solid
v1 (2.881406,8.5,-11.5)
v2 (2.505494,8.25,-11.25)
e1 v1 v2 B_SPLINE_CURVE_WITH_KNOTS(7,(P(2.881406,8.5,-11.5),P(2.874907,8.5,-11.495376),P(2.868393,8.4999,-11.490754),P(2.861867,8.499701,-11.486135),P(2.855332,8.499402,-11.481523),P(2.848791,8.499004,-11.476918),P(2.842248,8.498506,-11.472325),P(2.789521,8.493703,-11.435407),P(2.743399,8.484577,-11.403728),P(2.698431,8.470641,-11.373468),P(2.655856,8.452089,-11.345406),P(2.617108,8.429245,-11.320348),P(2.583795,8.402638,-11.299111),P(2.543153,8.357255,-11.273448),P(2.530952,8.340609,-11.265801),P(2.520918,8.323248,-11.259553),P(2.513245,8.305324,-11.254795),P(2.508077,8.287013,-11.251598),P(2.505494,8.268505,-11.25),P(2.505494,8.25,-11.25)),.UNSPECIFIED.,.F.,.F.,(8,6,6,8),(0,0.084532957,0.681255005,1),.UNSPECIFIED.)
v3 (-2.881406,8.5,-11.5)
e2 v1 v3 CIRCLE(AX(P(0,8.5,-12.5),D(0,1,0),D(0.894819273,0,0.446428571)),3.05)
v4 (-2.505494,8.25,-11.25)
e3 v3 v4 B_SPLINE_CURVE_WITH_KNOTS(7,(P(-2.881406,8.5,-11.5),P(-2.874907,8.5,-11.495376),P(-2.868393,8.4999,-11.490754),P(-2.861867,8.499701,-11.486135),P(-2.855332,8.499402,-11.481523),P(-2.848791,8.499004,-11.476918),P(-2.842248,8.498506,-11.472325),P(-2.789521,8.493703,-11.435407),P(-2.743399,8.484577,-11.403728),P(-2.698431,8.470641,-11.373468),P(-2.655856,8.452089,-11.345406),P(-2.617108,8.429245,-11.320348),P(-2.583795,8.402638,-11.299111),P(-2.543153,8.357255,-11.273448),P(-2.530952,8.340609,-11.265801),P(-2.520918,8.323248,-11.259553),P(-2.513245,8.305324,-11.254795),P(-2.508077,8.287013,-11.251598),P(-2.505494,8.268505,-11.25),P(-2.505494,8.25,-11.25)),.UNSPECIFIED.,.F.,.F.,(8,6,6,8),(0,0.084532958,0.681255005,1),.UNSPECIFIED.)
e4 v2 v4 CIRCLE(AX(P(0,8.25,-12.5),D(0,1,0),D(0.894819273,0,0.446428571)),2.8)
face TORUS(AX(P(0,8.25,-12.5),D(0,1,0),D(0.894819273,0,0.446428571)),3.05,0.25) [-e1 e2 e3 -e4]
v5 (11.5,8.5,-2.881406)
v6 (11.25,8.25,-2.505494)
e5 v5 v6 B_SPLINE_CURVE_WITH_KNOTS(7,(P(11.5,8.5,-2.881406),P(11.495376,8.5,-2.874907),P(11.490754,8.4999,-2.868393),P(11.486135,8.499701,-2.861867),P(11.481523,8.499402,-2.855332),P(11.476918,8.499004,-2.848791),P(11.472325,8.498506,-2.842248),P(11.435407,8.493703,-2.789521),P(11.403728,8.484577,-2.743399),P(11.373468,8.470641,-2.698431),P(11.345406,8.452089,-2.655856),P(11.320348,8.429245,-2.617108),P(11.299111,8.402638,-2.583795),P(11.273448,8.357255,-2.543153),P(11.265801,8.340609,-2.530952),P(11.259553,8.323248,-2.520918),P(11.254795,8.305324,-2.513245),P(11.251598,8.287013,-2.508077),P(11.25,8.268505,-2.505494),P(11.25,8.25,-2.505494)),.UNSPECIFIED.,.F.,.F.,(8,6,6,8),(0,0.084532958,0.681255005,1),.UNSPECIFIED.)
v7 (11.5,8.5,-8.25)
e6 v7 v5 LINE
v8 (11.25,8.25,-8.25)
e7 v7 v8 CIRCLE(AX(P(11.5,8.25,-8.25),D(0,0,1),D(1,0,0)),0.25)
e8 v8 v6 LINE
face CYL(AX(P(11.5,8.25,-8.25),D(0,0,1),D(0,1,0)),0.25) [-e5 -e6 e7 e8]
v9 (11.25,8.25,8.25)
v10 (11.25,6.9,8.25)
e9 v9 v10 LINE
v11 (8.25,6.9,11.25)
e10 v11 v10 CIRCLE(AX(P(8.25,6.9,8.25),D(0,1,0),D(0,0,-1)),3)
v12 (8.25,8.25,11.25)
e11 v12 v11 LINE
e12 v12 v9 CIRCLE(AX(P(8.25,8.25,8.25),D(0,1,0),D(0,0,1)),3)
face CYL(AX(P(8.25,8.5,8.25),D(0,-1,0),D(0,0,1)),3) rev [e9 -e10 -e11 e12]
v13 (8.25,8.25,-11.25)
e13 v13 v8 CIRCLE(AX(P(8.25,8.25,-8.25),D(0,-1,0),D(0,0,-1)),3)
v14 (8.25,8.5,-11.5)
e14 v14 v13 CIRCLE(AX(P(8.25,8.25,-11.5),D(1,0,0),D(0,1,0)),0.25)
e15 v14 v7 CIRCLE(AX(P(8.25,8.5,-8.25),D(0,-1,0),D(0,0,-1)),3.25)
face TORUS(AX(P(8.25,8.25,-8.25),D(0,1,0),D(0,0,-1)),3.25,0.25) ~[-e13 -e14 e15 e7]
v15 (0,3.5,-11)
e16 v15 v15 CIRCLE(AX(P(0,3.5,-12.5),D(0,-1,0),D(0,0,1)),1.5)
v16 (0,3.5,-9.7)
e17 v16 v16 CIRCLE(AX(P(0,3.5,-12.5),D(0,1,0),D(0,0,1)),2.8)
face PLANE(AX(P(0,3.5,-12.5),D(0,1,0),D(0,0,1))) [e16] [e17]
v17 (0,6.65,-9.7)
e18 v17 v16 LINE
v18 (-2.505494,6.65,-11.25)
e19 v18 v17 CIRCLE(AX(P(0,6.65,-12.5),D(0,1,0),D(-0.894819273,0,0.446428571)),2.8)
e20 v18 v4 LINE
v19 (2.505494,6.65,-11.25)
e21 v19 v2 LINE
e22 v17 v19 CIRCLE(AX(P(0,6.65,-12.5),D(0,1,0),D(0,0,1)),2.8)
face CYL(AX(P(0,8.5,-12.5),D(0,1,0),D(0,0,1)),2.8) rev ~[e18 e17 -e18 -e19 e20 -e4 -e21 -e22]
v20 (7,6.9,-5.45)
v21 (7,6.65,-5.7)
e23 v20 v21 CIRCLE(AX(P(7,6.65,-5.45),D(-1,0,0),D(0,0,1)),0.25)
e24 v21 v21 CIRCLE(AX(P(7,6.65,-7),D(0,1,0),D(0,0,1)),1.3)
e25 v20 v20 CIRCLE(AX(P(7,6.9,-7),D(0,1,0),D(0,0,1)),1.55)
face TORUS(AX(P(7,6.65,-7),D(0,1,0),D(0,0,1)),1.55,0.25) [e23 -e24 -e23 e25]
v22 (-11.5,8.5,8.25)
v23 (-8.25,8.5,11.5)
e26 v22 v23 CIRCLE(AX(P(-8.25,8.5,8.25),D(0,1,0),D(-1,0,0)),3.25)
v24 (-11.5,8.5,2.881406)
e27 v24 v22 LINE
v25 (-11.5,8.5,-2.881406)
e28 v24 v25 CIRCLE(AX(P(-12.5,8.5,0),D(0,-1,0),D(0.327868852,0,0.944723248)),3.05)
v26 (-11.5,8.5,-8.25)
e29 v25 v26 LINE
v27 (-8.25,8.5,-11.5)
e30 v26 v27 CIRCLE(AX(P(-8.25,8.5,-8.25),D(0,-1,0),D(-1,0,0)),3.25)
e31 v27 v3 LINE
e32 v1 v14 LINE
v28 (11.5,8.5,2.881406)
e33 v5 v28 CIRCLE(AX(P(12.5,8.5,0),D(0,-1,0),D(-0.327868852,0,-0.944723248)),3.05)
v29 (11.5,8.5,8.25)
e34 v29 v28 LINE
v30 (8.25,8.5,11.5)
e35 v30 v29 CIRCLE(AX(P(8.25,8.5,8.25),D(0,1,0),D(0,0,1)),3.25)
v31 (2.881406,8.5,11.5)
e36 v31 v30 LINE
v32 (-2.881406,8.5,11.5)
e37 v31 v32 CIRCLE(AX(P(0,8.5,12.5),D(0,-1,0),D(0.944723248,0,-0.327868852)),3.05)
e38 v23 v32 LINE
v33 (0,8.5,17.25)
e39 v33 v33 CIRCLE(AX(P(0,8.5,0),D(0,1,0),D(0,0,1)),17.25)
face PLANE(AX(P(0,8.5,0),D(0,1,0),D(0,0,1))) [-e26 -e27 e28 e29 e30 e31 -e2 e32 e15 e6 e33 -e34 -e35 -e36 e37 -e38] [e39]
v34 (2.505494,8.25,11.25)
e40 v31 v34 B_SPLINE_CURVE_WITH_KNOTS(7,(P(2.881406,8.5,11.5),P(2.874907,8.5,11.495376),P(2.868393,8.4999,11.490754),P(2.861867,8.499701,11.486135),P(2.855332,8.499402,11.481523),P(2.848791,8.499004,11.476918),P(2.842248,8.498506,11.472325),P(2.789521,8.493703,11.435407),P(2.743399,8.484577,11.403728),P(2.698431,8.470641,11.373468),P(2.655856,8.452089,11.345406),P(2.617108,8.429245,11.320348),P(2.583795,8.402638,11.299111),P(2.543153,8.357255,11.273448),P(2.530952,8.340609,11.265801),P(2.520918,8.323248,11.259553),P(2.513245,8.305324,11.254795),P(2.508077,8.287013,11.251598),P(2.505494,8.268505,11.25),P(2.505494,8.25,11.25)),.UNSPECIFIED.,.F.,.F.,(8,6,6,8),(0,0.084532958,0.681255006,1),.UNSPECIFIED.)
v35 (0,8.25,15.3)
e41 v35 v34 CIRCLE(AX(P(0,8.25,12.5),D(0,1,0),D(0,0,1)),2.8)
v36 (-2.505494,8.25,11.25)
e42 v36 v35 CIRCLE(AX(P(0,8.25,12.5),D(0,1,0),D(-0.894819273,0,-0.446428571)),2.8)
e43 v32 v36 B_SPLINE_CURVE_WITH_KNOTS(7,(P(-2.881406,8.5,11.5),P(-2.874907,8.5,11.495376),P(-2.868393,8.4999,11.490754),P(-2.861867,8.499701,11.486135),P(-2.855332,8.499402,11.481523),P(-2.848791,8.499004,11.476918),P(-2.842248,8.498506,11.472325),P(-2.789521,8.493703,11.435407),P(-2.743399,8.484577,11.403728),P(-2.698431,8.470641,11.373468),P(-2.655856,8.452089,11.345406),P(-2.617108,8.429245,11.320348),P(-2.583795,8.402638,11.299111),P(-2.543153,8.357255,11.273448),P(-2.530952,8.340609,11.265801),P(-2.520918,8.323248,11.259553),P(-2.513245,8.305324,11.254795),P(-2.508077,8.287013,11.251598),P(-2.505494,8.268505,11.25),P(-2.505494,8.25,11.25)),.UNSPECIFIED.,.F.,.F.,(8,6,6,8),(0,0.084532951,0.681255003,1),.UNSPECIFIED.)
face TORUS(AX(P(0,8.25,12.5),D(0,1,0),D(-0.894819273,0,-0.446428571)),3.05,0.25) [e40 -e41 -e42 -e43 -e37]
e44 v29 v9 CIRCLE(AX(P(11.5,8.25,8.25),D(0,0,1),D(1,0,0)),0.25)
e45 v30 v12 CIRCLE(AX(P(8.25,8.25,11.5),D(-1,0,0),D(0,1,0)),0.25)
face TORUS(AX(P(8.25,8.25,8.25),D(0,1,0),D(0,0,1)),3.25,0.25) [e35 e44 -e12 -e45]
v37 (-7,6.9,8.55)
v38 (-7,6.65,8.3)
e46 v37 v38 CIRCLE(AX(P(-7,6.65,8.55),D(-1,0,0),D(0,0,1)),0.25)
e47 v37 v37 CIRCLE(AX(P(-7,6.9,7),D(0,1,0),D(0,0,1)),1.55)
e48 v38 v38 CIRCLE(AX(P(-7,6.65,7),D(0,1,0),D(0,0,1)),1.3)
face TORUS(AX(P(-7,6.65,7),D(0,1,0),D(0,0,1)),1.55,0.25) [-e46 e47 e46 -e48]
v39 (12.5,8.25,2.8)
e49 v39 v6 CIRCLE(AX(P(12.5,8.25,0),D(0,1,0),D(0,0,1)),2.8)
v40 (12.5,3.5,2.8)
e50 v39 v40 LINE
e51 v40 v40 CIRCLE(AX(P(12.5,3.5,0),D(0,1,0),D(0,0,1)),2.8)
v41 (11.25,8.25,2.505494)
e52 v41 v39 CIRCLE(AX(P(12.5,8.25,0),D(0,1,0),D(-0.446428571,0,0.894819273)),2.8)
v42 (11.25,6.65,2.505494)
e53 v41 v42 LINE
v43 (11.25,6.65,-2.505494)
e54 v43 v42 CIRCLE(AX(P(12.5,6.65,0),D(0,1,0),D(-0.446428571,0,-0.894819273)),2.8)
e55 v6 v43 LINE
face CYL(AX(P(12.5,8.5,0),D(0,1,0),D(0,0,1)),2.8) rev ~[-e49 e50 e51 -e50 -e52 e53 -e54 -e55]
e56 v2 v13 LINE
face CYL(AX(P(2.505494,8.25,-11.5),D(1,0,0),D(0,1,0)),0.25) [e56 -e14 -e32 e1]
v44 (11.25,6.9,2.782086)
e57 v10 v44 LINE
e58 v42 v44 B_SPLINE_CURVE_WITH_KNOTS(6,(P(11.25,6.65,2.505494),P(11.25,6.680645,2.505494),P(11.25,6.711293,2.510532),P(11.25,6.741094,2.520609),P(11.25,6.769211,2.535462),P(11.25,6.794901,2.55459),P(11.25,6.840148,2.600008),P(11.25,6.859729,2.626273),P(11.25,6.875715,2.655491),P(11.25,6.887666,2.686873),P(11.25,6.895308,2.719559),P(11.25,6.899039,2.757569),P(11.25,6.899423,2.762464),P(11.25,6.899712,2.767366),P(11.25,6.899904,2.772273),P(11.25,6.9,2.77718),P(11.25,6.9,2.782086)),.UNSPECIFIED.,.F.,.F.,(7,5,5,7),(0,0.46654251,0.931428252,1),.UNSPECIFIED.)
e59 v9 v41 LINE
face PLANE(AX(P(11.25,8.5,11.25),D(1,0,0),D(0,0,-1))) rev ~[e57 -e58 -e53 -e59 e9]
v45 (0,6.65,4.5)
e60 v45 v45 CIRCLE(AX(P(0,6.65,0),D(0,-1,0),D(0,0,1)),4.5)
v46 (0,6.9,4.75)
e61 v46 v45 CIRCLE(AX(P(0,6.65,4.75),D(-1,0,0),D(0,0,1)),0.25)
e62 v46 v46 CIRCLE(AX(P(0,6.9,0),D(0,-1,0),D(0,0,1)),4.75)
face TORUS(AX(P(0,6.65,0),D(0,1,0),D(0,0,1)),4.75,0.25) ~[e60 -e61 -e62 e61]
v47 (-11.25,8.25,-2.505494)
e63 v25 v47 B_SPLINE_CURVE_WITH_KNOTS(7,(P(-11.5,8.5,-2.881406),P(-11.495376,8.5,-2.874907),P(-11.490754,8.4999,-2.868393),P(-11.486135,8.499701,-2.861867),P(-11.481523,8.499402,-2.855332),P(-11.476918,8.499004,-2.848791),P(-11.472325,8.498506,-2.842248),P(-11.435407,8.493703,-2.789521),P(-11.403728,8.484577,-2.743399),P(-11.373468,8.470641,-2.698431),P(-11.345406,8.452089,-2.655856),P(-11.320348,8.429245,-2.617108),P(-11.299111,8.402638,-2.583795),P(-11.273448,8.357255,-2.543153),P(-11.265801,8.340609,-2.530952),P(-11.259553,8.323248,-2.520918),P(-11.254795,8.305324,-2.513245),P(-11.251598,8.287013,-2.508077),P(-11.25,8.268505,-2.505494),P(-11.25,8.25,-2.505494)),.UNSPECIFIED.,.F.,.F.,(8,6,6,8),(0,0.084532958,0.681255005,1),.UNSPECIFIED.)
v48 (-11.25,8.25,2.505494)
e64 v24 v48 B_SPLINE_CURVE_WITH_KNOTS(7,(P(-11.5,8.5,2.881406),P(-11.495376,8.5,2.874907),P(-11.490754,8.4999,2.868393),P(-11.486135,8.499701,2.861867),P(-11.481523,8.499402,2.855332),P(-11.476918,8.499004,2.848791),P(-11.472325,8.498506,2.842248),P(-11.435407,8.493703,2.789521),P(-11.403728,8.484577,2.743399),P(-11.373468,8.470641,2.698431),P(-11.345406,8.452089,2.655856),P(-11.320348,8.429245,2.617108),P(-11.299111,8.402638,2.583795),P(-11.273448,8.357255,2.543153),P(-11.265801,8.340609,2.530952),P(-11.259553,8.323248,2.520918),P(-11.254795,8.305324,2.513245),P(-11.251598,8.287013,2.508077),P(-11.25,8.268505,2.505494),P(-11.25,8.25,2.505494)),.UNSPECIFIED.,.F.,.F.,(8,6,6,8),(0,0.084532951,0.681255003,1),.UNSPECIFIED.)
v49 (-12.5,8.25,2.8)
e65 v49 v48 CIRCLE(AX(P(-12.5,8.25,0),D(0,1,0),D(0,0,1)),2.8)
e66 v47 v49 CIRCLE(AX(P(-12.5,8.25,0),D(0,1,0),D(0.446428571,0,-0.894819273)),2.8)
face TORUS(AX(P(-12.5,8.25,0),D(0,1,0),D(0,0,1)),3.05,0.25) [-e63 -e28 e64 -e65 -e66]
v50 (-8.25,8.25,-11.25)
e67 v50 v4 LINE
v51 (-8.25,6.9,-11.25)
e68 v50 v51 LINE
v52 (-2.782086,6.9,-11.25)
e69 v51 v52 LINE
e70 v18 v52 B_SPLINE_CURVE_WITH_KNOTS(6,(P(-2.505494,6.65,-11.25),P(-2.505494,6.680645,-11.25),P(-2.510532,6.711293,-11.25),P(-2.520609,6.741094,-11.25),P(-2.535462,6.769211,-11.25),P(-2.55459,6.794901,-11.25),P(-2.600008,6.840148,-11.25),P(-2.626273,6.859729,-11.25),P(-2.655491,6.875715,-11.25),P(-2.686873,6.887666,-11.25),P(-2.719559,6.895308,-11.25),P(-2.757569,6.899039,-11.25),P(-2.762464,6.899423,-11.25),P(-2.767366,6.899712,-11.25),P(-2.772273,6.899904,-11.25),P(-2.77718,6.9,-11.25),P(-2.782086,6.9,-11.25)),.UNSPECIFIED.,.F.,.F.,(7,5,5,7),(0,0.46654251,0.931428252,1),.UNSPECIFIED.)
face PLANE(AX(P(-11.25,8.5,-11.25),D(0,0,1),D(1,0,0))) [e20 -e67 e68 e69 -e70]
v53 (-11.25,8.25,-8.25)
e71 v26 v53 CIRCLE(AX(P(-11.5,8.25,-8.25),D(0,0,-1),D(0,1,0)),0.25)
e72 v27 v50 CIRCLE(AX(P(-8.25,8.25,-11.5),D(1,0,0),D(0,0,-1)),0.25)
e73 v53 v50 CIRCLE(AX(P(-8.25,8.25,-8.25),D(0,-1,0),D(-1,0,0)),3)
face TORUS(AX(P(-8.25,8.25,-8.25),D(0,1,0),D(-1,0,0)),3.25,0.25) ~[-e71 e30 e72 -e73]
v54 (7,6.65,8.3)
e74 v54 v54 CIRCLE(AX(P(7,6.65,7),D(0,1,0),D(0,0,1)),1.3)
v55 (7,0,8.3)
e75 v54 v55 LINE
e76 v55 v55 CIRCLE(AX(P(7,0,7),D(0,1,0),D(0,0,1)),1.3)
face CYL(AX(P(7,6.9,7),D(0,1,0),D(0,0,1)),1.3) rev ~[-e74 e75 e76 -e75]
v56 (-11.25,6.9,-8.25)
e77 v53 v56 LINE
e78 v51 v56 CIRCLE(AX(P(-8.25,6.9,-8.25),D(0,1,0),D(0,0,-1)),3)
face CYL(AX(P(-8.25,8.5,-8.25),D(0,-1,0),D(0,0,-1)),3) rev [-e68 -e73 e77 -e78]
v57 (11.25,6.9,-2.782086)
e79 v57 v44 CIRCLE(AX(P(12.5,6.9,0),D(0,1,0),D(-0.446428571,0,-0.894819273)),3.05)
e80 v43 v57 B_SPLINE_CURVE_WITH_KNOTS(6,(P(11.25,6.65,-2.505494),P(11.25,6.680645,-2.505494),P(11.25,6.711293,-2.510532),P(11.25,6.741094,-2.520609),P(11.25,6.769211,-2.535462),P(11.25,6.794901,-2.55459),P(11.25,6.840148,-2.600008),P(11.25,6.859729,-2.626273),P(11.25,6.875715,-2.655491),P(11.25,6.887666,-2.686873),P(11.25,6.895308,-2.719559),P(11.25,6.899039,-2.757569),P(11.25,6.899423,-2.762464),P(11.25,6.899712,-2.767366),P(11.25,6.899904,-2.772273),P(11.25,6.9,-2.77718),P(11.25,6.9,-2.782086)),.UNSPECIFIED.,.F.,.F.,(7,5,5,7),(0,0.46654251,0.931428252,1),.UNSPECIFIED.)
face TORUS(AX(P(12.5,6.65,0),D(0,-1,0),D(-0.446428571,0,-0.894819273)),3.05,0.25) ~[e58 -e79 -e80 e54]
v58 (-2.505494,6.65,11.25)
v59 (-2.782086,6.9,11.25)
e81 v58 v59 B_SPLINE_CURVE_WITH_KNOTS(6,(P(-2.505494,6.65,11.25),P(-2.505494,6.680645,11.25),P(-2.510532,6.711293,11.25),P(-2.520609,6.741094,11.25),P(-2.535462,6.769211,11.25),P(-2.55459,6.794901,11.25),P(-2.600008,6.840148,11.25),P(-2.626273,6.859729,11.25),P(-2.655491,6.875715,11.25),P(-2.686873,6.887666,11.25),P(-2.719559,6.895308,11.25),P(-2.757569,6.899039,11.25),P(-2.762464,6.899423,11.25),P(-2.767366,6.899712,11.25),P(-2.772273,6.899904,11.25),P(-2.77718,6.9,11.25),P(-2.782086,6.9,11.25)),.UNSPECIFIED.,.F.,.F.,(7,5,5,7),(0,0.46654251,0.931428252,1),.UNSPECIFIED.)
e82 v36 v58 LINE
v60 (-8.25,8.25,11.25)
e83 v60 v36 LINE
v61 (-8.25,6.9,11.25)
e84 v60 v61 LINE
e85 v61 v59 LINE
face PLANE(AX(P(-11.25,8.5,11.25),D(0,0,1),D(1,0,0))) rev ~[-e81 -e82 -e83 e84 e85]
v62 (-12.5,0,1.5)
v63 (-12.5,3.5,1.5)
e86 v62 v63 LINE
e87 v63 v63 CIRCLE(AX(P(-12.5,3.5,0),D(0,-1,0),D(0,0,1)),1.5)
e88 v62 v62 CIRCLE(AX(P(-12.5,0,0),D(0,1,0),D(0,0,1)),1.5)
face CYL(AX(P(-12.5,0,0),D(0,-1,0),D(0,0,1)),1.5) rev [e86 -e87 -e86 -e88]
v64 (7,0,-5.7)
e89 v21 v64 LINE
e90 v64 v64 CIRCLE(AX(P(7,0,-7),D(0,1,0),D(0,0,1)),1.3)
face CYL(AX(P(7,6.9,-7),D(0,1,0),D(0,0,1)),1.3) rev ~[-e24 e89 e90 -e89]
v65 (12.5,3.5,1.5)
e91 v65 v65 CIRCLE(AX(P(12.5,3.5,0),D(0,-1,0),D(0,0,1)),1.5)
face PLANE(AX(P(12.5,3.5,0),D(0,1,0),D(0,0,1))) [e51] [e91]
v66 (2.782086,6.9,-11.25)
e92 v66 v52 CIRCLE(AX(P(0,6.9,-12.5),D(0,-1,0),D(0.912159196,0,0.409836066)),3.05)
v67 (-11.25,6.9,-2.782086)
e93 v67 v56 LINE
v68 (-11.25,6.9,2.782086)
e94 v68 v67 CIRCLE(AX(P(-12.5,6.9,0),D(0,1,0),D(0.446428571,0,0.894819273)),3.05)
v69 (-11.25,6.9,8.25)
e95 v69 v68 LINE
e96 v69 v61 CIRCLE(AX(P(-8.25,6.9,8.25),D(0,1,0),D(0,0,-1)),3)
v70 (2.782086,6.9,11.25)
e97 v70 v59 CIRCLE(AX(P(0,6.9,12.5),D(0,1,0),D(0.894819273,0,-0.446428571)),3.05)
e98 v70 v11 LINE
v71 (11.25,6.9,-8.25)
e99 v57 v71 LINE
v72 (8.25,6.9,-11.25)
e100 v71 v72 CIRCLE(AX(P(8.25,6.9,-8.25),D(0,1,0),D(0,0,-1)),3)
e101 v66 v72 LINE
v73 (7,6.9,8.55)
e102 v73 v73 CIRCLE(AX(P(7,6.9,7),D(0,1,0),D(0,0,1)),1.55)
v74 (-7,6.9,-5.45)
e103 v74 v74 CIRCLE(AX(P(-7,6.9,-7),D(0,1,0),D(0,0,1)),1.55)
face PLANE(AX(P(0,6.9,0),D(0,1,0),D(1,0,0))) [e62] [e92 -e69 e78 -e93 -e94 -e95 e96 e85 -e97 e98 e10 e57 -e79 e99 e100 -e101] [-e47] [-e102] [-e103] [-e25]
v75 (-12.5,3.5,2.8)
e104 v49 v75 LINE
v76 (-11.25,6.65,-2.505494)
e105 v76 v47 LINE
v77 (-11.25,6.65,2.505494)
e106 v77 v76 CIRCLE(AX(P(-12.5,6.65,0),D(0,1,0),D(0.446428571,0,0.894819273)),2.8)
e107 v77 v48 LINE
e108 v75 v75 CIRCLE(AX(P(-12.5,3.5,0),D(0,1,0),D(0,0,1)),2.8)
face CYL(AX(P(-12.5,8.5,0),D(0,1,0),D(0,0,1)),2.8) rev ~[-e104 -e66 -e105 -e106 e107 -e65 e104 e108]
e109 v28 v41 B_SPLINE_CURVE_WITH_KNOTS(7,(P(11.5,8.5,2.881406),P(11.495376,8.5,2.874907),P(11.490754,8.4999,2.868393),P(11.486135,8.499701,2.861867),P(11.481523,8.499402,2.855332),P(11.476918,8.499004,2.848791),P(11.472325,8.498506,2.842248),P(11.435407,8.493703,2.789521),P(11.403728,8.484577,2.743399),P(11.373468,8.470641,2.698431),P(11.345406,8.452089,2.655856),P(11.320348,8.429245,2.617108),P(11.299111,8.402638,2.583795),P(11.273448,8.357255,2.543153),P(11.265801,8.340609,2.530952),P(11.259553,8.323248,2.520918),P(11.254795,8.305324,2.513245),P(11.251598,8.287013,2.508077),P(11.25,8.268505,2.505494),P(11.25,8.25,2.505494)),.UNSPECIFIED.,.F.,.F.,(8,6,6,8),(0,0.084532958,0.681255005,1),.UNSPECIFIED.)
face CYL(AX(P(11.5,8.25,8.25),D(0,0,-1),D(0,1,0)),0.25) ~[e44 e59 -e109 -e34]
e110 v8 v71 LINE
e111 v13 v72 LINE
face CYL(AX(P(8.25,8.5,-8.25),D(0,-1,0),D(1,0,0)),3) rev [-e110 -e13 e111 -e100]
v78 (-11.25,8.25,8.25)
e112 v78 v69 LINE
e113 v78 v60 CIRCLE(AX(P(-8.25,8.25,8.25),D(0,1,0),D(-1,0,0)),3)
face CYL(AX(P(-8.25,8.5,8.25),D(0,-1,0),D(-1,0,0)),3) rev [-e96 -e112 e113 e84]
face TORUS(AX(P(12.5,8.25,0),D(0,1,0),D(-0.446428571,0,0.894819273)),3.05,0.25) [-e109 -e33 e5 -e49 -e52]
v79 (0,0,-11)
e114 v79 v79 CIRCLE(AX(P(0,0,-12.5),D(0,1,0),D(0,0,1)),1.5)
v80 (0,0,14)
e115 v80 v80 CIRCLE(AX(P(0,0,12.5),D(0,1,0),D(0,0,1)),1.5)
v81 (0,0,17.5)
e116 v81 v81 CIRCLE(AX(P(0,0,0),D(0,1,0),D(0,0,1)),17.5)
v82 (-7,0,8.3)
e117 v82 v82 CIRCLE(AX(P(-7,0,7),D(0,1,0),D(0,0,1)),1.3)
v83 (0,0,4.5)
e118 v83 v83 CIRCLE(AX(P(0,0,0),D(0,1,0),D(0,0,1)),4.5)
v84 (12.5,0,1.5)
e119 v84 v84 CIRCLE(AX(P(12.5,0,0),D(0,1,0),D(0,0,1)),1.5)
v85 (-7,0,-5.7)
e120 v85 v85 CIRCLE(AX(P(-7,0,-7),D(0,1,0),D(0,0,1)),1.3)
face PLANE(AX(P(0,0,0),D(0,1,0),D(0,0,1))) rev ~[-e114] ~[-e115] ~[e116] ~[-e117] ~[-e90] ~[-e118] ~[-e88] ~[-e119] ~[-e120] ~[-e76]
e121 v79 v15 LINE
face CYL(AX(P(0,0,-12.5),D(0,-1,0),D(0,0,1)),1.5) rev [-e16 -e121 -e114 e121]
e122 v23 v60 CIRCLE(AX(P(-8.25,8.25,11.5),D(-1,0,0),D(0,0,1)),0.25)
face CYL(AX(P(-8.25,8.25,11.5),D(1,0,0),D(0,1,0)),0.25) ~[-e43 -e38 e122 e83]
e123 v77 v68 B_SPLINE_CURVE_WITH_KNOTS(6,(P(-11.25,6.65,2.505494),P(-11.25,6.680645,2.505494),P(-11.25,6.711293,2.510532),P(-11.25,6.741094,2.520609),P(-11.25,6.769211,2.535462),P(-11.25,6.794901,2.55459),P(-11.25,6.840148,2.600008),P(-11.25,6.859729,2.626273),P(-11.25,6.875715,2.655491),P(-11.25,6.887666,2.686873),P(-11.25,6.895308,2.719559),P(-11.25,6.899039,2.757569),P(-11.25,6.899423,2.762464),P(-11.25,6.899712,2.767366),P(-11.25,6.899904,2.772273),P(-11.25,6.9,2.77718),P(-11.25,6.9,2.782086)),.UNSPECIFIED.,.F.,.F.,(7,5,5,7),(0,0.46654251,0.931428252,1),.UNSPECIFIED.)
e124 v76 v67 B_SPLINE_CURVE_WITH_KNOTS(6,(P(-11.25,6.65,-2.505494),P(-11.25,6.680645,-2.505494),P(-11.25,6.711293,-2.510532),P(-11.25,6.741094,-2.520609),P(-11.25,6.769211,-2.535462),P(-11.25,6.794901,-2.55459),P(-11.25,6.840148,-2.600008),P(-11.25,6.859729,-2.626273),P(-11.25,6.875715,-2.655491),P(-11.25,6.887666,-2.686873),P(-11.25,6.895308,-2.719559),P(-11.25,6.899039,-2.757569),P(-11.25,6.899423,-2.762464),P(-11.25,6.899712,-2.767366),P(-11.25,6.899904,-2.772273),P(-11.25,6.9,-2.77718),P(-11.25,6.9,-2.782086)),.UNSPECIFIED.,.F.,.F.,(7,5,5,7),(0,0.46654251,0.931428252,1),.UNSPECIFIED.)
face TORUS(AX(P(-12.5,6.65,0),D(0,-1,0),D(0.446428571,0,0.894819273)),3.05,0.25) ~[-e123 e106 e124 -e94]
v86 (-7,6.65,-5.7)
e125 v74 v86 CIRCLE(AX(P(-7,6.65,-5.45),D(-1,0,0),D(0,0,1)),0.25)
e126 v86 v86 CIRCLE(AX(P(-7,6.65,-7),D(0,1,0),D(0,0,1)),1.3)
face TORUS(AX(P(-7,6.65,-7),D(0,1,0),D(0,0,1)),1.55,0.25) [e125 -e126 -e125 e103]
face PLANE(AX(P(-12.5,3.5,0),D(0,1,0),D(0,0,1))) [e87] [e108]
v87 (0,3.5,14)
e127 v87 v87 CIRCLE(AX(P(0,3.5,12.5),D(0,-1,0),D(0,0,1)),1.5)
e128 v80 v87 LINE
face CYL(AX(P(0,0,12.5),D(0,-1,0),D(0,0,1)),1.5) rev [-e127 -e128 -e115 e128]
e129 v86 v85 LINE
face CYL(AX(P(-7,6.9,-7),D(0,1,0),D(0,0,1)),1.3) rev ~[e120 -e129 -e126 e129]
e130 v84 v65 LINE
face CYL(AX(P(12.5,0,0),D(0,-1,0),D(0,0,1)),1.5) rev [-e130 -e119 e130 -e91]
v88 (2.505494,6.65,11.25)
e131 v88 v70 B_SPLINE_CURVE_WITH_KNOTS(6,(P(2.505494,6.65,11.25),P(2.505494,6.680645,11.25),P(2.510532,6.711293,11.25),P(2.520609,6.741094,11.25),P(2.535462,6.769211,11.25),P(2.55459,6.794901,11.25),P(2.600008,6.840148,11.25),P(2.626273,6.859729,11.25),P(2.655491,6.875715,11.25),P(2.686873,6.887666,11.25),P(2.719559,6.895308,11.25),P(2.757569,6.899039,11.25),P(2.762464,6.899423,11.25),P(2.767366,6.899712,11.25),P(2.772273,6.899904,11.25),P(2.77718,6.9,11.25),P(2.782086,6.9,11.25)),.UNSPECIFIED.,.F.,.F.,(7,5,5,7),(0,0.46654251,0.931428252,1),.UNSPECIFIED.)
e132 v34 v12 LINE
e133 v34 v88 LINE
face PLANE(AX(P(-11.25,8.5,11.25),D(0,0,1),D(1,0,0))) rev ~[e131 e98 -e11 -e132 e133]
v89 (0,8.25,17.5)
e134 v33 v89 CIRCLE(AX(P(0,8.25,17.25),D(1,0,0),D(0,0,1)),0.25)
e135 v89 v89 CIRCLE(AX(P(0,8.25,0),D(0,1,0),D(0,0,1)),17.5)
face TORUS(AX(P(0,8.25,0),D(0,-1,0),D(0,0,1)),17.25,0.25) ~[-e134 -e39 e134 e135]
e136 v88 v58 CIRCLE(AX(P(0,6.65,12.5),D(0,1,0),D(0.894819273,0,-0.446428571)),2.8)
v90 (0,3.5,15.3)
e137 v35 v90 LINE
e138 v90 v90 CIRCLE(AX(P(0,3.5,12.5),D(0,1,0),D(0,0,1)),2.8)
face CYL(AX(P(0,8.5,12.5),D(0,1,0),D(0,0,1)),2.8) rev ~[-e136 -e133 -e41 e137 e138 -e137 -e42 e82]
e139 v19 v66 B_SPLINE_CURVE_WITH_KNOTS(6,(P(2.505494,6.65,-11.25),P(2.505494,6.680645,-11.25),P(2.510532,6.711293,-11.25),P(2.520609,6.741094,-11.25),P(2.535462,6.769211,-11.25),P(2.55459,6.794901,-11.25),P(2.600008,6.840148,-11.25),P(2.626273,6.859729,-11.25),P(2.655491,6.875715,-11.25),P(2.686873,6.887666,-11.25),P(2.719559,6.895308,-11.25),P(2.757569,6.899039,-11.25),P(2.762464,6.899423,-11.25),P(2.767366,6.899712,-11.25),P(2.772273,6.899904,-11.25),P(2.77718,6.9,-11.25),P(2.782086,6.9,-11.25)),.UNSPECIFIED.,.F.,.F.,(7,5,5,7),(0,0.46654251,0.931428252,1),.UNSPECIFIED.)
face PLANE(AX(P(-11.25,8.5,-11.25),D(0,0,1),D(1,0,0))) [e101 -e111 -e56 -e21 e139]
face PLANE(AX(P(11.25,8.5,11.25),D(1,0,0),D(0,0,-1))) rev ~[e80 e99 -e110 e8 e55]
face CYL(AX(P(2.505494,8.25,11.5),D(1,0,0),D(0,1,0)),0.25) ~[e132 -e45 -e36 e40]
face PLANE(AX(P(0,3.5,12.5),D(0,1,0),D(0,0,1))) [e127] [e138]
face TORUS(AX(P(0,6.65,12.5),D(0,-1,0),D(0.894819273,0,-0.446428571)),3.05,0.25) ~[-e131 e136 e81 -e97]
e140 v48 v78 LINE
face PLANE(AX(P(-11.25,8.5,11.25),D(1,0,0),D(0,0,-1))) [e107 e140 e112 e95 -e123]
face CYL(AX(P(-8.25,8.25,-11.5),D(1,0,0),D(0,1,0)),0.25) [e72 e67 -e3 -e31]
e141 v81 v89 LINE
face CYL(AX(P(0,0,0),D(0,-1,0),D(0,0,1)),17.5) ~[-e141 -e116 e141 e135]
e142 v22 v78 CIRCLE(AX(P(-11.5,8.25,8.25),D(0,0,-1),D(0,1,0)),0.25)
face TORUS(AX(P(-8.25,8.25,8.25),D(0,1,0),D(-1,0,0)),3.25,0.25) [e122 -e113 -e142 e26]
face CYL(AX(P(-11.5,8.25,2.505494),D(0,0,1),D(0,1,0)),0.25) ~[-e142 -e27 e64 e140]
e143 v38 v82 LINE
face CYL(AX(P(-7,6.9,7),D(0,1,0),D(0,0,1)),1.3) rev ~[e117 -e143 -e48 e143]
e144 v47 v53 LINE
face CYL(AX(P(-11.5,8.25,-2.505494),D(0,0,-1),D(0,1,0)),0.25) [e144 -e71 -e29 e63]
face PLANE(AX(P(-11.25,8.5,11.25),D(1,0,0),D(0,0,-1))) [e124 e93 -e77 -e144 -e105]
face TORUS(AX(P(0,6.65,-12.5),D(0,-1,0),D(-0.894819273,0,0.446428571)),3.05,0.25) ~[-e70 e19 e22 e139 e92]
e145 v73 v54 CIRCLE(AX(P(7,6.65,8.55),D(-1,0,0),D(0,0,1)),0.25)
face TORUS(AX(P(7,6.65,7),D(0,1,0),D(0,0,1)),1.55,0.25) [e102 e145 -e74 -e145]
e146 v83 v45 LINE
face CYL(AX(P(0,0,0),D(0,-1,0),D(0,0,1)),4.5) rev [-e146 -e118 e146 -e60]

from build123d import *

# Parameters (mm, degrees)
SKETCH1_R           = 17.5
SKETCH1_R_2         = 1.5
SKETCH1_R_3         = 4.5
BOSS_EXTRUDE1_DEPTH = 8.5
SKETCH3_R           = 2.8
CUT_EXTRUDE2_DEPTH  = 5
SKETCH2_W           = 22.5
SKETCH2_H           = 22.5
CUT_EXTRUDE1_DEPTH  = 1.6
CUT_EXTRUDE3_REACH  = 27.693
SKETCH4_R           = 1.3
FILLET2_R           = 3
FILLET1_R           = 0.25


with BuildPart() as part:
    # Sketch1 → Boss-Extrude1 (new body)
    with BuildSketch(Plane(origin=(0, 0, 0), x_dir=(1, 0, 0), z_dir=(0, 1, 0))):
        with Locations(Location((0, 0, 0), (0, 0, 270))):
            Circle(SKETCH1_R)
        with Locations(Location((0, 12.5, 0), (0, 0, 270))):
            Circle(SKETCH1_R_2, mode=Mode.SUBTRACT)
        with Locations(Location((12.5, 0, 0), (0, 0, 270))):
            Circle(SKETCH1_R_2, mode=Mode.SUBTRACT)
        with Locations(Location((0, -12.5, 0), (0, 0, 270))):
            Circle(SKETCH1_R_2, mode=Mode.SUBTRACT)
        with Locations(Location((-12.5, 0, 0), (0, 0, 270))):
            Circle(SKETCH1_R_2, mode=Mode.SUBTRACT)
        with Locations(Location((0, 0, 0), (0, 0, 270))):
            Circle(SKETCH1_R_3, mode=Mode.SUBTRACT)
    extrude(amount=BOSS_EXTRUDE1_DEPTH)

    # Sketch3 → Cut-Extrude2 (cut)
    with BuildSketch(Plane(origin=(0, 8.5, 0), x_dir=(1, 0, 0), z_dir=(0, 1, 0))):
        with Locations(Location((0, 12.5, 0), (0, 0, 270))):
            Circle(SKETCH3_R)
        with Locations(Location((12.5, 0, 0), (0, 0, 270))):
            Circle(SKETCH3_R)
        with Locations(Location((0, -12.5, 0), (0, 0, 270))):
            Circle(SKETCH3_R)
        with Locations(Location((-12.5, 0, 0), (0, 0, 270))):
            Circle(SKETCH3_R)
    extrude(amount=-CUT_EXTRUDE2_DEPTH, mode=Mode.SUBTRACT)

    # Sketch2 → Cut-Extrude1 (cut)
    with BuildSketch(Plane(origin=(0, 8.5, 0), x_dir=(1, 0, 0), z_dir=(0, 1, 0))):
        Rectangle(SKETCH2_W, SKETCH2_H)
    extrude(amount=-CUT_EXTRUDE1_DEPTH, mode=Mode.SUBTRACT)

    # Sketch4 → Cut-Extrude3 (cut, up to next)
    with BuildSketch(Plane(origin=(0, 6.9, 0), x_dir=(1, 0, 0), z_dir=(0, 1, 0)), mode=Mode.PRIVATE) as cut_extrude3_sk1:
        with Locations(Location((7, 7, 0), (0, 0, 270))):
            Circle(SKETCH4_R)
    cut_extrude3_tool1 = extrude(cut_extrude3_sk1.sketch, amount=-CUT_EXTRUDE3_REACH, mode=Mode.PRIVATE) & part.part
    # Sketch4 → Cut-Extrude3 (cut, up to next)
    with BuildSketch(Plane(origin=(0, 6.9, 0), x_dir=(1, 0, 0), z_dir=(0, 1, 0)), mode=Mode.PRIVATE) as cut_extrude3_sk2:
        with Locations(Location((-7, 7, 0), (0, 0, 270))):
            Circle(SKETCH4_R)
    cut_extrude3_tool2 = extrude(cut_extrude3_sk2.sketch, amount=-CUT_EXTRUDE3_REACH, mode=Mode.PRIVATE) & part.part
    # Sketch4 → Cut-Extrude3 (cut, up to next)
    with BuildSketch(Plane(origin=(0, 6.9, 0), x_dir=(1, 0, 0), z_dir=(0, 1, 0)), mode=Mode.PRIVATE) as cut_extrude3_sk3:
        with Locations(Location((7, -7, 0), (0, 0, 270))):
            Circle(SKETCH4_R)
    cut_extrude3_tool3 = extrude(cut_extrude3_sk3.sketch, amount=-CUT_EXTRUDE3_REACH, mode=Mode.PRIVATE) & part.part
    # Sketch4 → Cut-Extrude3 (cut, up to next)
    with BuildSketch(Plane(origin=(0, 6.9, 0), x_dir=(1, 0, 0), z_dir=(0, 1, 0)), mode=Mode.PRIVATE) as cut_extrude3_sk4:
        with Locations(Location((-7, -7, 0), (0, 0, 270))):
            Circle(SKETCH4_R)
    cut_extrude3_tool4 = extrude(cut_extrude3_sk4.sketch, amount=-CUT_EXTRUDE3_REACH, mode=Mode.PRIVATE) & part.part
    add(cut_extrude3_tool1.solids().sort_by_distance((7, 6.9, -7))[0], mode=Mode.SUBTRACT)
    add(cut_extrude3_tool2.solids().sort_by_distance((-7, 6.9, -7))[0], mode=Mode.SUBTRACT)
    add(cut_extrude3_tool3.solids().sort_by_distance((7, 6.9, 7))[0], mode=Mode.SUBTRACT)
    add(cut_extrude3_tool4.solids().sort_by_distance((-7, 6.9, 7))[0], mode=Mode.SUBTRACT)

    # Fillet2
    fillet2_edges = [part.edges().sort_by_distance(p)[0] for p in [
        (-11.25, 7.7, 11.25),
        (11.25, 7.7, 11.25),
        (11.25, 7.7, -11.25),
        (-11.25, 7.7, -11.25),
    ]]
    fillet(fillet2_edges, radius=FILLET2_R)

    # Fillet1
    fillet1_edges = [part.edges().sort_by_distance(p)[0] for p in [
        (-5.377746982, 8.5, 11.25),
        (11.25, 8.5, 5.377746982),
        (5.377746982, 8.5, -11.25),
        (-11.25, 8.5, -5.377746982),
        (-10.371320344, 8.5, 10.371320344),
        (10.371320344, 8.5, 10.371320344),
        (10.371320344, 8.5, -10.371320344),
        (-10.371320344, 8.5, -10.371320344),
        (0, 8.5, -15.3),
        (0, 8.5, -17.5),
        (1.473091986, 6.9, -10.11882382),
        (15.225379157, 8.5, -0.642112491),
        (2.38117618, 8.5, 13.973091986),
        (-15.225379157, 8.5, -0.642112491),
        (0, 6.9, -4.5),
        (-9.7, 6.9, 0),
        (9.7, 6.9, 0),
        (0, 6.9, 9.7),
        (-11.25, 8.5, 5.377746982),
        (5.377746982, 8.5, 11.25),
        (11.25, 8.5, -5.377746982),
        (-5.377746982, 8.5, -11.25),
        (-7, 6.9, -8.3),
        (7, 6.9, 5.7),
        (-7, 6.9, 5.7),
        (7, 6.9, -8.3),
    ]]
    fillet(fillet1_edges, radius=FILLET1_R)


solid = part.part
